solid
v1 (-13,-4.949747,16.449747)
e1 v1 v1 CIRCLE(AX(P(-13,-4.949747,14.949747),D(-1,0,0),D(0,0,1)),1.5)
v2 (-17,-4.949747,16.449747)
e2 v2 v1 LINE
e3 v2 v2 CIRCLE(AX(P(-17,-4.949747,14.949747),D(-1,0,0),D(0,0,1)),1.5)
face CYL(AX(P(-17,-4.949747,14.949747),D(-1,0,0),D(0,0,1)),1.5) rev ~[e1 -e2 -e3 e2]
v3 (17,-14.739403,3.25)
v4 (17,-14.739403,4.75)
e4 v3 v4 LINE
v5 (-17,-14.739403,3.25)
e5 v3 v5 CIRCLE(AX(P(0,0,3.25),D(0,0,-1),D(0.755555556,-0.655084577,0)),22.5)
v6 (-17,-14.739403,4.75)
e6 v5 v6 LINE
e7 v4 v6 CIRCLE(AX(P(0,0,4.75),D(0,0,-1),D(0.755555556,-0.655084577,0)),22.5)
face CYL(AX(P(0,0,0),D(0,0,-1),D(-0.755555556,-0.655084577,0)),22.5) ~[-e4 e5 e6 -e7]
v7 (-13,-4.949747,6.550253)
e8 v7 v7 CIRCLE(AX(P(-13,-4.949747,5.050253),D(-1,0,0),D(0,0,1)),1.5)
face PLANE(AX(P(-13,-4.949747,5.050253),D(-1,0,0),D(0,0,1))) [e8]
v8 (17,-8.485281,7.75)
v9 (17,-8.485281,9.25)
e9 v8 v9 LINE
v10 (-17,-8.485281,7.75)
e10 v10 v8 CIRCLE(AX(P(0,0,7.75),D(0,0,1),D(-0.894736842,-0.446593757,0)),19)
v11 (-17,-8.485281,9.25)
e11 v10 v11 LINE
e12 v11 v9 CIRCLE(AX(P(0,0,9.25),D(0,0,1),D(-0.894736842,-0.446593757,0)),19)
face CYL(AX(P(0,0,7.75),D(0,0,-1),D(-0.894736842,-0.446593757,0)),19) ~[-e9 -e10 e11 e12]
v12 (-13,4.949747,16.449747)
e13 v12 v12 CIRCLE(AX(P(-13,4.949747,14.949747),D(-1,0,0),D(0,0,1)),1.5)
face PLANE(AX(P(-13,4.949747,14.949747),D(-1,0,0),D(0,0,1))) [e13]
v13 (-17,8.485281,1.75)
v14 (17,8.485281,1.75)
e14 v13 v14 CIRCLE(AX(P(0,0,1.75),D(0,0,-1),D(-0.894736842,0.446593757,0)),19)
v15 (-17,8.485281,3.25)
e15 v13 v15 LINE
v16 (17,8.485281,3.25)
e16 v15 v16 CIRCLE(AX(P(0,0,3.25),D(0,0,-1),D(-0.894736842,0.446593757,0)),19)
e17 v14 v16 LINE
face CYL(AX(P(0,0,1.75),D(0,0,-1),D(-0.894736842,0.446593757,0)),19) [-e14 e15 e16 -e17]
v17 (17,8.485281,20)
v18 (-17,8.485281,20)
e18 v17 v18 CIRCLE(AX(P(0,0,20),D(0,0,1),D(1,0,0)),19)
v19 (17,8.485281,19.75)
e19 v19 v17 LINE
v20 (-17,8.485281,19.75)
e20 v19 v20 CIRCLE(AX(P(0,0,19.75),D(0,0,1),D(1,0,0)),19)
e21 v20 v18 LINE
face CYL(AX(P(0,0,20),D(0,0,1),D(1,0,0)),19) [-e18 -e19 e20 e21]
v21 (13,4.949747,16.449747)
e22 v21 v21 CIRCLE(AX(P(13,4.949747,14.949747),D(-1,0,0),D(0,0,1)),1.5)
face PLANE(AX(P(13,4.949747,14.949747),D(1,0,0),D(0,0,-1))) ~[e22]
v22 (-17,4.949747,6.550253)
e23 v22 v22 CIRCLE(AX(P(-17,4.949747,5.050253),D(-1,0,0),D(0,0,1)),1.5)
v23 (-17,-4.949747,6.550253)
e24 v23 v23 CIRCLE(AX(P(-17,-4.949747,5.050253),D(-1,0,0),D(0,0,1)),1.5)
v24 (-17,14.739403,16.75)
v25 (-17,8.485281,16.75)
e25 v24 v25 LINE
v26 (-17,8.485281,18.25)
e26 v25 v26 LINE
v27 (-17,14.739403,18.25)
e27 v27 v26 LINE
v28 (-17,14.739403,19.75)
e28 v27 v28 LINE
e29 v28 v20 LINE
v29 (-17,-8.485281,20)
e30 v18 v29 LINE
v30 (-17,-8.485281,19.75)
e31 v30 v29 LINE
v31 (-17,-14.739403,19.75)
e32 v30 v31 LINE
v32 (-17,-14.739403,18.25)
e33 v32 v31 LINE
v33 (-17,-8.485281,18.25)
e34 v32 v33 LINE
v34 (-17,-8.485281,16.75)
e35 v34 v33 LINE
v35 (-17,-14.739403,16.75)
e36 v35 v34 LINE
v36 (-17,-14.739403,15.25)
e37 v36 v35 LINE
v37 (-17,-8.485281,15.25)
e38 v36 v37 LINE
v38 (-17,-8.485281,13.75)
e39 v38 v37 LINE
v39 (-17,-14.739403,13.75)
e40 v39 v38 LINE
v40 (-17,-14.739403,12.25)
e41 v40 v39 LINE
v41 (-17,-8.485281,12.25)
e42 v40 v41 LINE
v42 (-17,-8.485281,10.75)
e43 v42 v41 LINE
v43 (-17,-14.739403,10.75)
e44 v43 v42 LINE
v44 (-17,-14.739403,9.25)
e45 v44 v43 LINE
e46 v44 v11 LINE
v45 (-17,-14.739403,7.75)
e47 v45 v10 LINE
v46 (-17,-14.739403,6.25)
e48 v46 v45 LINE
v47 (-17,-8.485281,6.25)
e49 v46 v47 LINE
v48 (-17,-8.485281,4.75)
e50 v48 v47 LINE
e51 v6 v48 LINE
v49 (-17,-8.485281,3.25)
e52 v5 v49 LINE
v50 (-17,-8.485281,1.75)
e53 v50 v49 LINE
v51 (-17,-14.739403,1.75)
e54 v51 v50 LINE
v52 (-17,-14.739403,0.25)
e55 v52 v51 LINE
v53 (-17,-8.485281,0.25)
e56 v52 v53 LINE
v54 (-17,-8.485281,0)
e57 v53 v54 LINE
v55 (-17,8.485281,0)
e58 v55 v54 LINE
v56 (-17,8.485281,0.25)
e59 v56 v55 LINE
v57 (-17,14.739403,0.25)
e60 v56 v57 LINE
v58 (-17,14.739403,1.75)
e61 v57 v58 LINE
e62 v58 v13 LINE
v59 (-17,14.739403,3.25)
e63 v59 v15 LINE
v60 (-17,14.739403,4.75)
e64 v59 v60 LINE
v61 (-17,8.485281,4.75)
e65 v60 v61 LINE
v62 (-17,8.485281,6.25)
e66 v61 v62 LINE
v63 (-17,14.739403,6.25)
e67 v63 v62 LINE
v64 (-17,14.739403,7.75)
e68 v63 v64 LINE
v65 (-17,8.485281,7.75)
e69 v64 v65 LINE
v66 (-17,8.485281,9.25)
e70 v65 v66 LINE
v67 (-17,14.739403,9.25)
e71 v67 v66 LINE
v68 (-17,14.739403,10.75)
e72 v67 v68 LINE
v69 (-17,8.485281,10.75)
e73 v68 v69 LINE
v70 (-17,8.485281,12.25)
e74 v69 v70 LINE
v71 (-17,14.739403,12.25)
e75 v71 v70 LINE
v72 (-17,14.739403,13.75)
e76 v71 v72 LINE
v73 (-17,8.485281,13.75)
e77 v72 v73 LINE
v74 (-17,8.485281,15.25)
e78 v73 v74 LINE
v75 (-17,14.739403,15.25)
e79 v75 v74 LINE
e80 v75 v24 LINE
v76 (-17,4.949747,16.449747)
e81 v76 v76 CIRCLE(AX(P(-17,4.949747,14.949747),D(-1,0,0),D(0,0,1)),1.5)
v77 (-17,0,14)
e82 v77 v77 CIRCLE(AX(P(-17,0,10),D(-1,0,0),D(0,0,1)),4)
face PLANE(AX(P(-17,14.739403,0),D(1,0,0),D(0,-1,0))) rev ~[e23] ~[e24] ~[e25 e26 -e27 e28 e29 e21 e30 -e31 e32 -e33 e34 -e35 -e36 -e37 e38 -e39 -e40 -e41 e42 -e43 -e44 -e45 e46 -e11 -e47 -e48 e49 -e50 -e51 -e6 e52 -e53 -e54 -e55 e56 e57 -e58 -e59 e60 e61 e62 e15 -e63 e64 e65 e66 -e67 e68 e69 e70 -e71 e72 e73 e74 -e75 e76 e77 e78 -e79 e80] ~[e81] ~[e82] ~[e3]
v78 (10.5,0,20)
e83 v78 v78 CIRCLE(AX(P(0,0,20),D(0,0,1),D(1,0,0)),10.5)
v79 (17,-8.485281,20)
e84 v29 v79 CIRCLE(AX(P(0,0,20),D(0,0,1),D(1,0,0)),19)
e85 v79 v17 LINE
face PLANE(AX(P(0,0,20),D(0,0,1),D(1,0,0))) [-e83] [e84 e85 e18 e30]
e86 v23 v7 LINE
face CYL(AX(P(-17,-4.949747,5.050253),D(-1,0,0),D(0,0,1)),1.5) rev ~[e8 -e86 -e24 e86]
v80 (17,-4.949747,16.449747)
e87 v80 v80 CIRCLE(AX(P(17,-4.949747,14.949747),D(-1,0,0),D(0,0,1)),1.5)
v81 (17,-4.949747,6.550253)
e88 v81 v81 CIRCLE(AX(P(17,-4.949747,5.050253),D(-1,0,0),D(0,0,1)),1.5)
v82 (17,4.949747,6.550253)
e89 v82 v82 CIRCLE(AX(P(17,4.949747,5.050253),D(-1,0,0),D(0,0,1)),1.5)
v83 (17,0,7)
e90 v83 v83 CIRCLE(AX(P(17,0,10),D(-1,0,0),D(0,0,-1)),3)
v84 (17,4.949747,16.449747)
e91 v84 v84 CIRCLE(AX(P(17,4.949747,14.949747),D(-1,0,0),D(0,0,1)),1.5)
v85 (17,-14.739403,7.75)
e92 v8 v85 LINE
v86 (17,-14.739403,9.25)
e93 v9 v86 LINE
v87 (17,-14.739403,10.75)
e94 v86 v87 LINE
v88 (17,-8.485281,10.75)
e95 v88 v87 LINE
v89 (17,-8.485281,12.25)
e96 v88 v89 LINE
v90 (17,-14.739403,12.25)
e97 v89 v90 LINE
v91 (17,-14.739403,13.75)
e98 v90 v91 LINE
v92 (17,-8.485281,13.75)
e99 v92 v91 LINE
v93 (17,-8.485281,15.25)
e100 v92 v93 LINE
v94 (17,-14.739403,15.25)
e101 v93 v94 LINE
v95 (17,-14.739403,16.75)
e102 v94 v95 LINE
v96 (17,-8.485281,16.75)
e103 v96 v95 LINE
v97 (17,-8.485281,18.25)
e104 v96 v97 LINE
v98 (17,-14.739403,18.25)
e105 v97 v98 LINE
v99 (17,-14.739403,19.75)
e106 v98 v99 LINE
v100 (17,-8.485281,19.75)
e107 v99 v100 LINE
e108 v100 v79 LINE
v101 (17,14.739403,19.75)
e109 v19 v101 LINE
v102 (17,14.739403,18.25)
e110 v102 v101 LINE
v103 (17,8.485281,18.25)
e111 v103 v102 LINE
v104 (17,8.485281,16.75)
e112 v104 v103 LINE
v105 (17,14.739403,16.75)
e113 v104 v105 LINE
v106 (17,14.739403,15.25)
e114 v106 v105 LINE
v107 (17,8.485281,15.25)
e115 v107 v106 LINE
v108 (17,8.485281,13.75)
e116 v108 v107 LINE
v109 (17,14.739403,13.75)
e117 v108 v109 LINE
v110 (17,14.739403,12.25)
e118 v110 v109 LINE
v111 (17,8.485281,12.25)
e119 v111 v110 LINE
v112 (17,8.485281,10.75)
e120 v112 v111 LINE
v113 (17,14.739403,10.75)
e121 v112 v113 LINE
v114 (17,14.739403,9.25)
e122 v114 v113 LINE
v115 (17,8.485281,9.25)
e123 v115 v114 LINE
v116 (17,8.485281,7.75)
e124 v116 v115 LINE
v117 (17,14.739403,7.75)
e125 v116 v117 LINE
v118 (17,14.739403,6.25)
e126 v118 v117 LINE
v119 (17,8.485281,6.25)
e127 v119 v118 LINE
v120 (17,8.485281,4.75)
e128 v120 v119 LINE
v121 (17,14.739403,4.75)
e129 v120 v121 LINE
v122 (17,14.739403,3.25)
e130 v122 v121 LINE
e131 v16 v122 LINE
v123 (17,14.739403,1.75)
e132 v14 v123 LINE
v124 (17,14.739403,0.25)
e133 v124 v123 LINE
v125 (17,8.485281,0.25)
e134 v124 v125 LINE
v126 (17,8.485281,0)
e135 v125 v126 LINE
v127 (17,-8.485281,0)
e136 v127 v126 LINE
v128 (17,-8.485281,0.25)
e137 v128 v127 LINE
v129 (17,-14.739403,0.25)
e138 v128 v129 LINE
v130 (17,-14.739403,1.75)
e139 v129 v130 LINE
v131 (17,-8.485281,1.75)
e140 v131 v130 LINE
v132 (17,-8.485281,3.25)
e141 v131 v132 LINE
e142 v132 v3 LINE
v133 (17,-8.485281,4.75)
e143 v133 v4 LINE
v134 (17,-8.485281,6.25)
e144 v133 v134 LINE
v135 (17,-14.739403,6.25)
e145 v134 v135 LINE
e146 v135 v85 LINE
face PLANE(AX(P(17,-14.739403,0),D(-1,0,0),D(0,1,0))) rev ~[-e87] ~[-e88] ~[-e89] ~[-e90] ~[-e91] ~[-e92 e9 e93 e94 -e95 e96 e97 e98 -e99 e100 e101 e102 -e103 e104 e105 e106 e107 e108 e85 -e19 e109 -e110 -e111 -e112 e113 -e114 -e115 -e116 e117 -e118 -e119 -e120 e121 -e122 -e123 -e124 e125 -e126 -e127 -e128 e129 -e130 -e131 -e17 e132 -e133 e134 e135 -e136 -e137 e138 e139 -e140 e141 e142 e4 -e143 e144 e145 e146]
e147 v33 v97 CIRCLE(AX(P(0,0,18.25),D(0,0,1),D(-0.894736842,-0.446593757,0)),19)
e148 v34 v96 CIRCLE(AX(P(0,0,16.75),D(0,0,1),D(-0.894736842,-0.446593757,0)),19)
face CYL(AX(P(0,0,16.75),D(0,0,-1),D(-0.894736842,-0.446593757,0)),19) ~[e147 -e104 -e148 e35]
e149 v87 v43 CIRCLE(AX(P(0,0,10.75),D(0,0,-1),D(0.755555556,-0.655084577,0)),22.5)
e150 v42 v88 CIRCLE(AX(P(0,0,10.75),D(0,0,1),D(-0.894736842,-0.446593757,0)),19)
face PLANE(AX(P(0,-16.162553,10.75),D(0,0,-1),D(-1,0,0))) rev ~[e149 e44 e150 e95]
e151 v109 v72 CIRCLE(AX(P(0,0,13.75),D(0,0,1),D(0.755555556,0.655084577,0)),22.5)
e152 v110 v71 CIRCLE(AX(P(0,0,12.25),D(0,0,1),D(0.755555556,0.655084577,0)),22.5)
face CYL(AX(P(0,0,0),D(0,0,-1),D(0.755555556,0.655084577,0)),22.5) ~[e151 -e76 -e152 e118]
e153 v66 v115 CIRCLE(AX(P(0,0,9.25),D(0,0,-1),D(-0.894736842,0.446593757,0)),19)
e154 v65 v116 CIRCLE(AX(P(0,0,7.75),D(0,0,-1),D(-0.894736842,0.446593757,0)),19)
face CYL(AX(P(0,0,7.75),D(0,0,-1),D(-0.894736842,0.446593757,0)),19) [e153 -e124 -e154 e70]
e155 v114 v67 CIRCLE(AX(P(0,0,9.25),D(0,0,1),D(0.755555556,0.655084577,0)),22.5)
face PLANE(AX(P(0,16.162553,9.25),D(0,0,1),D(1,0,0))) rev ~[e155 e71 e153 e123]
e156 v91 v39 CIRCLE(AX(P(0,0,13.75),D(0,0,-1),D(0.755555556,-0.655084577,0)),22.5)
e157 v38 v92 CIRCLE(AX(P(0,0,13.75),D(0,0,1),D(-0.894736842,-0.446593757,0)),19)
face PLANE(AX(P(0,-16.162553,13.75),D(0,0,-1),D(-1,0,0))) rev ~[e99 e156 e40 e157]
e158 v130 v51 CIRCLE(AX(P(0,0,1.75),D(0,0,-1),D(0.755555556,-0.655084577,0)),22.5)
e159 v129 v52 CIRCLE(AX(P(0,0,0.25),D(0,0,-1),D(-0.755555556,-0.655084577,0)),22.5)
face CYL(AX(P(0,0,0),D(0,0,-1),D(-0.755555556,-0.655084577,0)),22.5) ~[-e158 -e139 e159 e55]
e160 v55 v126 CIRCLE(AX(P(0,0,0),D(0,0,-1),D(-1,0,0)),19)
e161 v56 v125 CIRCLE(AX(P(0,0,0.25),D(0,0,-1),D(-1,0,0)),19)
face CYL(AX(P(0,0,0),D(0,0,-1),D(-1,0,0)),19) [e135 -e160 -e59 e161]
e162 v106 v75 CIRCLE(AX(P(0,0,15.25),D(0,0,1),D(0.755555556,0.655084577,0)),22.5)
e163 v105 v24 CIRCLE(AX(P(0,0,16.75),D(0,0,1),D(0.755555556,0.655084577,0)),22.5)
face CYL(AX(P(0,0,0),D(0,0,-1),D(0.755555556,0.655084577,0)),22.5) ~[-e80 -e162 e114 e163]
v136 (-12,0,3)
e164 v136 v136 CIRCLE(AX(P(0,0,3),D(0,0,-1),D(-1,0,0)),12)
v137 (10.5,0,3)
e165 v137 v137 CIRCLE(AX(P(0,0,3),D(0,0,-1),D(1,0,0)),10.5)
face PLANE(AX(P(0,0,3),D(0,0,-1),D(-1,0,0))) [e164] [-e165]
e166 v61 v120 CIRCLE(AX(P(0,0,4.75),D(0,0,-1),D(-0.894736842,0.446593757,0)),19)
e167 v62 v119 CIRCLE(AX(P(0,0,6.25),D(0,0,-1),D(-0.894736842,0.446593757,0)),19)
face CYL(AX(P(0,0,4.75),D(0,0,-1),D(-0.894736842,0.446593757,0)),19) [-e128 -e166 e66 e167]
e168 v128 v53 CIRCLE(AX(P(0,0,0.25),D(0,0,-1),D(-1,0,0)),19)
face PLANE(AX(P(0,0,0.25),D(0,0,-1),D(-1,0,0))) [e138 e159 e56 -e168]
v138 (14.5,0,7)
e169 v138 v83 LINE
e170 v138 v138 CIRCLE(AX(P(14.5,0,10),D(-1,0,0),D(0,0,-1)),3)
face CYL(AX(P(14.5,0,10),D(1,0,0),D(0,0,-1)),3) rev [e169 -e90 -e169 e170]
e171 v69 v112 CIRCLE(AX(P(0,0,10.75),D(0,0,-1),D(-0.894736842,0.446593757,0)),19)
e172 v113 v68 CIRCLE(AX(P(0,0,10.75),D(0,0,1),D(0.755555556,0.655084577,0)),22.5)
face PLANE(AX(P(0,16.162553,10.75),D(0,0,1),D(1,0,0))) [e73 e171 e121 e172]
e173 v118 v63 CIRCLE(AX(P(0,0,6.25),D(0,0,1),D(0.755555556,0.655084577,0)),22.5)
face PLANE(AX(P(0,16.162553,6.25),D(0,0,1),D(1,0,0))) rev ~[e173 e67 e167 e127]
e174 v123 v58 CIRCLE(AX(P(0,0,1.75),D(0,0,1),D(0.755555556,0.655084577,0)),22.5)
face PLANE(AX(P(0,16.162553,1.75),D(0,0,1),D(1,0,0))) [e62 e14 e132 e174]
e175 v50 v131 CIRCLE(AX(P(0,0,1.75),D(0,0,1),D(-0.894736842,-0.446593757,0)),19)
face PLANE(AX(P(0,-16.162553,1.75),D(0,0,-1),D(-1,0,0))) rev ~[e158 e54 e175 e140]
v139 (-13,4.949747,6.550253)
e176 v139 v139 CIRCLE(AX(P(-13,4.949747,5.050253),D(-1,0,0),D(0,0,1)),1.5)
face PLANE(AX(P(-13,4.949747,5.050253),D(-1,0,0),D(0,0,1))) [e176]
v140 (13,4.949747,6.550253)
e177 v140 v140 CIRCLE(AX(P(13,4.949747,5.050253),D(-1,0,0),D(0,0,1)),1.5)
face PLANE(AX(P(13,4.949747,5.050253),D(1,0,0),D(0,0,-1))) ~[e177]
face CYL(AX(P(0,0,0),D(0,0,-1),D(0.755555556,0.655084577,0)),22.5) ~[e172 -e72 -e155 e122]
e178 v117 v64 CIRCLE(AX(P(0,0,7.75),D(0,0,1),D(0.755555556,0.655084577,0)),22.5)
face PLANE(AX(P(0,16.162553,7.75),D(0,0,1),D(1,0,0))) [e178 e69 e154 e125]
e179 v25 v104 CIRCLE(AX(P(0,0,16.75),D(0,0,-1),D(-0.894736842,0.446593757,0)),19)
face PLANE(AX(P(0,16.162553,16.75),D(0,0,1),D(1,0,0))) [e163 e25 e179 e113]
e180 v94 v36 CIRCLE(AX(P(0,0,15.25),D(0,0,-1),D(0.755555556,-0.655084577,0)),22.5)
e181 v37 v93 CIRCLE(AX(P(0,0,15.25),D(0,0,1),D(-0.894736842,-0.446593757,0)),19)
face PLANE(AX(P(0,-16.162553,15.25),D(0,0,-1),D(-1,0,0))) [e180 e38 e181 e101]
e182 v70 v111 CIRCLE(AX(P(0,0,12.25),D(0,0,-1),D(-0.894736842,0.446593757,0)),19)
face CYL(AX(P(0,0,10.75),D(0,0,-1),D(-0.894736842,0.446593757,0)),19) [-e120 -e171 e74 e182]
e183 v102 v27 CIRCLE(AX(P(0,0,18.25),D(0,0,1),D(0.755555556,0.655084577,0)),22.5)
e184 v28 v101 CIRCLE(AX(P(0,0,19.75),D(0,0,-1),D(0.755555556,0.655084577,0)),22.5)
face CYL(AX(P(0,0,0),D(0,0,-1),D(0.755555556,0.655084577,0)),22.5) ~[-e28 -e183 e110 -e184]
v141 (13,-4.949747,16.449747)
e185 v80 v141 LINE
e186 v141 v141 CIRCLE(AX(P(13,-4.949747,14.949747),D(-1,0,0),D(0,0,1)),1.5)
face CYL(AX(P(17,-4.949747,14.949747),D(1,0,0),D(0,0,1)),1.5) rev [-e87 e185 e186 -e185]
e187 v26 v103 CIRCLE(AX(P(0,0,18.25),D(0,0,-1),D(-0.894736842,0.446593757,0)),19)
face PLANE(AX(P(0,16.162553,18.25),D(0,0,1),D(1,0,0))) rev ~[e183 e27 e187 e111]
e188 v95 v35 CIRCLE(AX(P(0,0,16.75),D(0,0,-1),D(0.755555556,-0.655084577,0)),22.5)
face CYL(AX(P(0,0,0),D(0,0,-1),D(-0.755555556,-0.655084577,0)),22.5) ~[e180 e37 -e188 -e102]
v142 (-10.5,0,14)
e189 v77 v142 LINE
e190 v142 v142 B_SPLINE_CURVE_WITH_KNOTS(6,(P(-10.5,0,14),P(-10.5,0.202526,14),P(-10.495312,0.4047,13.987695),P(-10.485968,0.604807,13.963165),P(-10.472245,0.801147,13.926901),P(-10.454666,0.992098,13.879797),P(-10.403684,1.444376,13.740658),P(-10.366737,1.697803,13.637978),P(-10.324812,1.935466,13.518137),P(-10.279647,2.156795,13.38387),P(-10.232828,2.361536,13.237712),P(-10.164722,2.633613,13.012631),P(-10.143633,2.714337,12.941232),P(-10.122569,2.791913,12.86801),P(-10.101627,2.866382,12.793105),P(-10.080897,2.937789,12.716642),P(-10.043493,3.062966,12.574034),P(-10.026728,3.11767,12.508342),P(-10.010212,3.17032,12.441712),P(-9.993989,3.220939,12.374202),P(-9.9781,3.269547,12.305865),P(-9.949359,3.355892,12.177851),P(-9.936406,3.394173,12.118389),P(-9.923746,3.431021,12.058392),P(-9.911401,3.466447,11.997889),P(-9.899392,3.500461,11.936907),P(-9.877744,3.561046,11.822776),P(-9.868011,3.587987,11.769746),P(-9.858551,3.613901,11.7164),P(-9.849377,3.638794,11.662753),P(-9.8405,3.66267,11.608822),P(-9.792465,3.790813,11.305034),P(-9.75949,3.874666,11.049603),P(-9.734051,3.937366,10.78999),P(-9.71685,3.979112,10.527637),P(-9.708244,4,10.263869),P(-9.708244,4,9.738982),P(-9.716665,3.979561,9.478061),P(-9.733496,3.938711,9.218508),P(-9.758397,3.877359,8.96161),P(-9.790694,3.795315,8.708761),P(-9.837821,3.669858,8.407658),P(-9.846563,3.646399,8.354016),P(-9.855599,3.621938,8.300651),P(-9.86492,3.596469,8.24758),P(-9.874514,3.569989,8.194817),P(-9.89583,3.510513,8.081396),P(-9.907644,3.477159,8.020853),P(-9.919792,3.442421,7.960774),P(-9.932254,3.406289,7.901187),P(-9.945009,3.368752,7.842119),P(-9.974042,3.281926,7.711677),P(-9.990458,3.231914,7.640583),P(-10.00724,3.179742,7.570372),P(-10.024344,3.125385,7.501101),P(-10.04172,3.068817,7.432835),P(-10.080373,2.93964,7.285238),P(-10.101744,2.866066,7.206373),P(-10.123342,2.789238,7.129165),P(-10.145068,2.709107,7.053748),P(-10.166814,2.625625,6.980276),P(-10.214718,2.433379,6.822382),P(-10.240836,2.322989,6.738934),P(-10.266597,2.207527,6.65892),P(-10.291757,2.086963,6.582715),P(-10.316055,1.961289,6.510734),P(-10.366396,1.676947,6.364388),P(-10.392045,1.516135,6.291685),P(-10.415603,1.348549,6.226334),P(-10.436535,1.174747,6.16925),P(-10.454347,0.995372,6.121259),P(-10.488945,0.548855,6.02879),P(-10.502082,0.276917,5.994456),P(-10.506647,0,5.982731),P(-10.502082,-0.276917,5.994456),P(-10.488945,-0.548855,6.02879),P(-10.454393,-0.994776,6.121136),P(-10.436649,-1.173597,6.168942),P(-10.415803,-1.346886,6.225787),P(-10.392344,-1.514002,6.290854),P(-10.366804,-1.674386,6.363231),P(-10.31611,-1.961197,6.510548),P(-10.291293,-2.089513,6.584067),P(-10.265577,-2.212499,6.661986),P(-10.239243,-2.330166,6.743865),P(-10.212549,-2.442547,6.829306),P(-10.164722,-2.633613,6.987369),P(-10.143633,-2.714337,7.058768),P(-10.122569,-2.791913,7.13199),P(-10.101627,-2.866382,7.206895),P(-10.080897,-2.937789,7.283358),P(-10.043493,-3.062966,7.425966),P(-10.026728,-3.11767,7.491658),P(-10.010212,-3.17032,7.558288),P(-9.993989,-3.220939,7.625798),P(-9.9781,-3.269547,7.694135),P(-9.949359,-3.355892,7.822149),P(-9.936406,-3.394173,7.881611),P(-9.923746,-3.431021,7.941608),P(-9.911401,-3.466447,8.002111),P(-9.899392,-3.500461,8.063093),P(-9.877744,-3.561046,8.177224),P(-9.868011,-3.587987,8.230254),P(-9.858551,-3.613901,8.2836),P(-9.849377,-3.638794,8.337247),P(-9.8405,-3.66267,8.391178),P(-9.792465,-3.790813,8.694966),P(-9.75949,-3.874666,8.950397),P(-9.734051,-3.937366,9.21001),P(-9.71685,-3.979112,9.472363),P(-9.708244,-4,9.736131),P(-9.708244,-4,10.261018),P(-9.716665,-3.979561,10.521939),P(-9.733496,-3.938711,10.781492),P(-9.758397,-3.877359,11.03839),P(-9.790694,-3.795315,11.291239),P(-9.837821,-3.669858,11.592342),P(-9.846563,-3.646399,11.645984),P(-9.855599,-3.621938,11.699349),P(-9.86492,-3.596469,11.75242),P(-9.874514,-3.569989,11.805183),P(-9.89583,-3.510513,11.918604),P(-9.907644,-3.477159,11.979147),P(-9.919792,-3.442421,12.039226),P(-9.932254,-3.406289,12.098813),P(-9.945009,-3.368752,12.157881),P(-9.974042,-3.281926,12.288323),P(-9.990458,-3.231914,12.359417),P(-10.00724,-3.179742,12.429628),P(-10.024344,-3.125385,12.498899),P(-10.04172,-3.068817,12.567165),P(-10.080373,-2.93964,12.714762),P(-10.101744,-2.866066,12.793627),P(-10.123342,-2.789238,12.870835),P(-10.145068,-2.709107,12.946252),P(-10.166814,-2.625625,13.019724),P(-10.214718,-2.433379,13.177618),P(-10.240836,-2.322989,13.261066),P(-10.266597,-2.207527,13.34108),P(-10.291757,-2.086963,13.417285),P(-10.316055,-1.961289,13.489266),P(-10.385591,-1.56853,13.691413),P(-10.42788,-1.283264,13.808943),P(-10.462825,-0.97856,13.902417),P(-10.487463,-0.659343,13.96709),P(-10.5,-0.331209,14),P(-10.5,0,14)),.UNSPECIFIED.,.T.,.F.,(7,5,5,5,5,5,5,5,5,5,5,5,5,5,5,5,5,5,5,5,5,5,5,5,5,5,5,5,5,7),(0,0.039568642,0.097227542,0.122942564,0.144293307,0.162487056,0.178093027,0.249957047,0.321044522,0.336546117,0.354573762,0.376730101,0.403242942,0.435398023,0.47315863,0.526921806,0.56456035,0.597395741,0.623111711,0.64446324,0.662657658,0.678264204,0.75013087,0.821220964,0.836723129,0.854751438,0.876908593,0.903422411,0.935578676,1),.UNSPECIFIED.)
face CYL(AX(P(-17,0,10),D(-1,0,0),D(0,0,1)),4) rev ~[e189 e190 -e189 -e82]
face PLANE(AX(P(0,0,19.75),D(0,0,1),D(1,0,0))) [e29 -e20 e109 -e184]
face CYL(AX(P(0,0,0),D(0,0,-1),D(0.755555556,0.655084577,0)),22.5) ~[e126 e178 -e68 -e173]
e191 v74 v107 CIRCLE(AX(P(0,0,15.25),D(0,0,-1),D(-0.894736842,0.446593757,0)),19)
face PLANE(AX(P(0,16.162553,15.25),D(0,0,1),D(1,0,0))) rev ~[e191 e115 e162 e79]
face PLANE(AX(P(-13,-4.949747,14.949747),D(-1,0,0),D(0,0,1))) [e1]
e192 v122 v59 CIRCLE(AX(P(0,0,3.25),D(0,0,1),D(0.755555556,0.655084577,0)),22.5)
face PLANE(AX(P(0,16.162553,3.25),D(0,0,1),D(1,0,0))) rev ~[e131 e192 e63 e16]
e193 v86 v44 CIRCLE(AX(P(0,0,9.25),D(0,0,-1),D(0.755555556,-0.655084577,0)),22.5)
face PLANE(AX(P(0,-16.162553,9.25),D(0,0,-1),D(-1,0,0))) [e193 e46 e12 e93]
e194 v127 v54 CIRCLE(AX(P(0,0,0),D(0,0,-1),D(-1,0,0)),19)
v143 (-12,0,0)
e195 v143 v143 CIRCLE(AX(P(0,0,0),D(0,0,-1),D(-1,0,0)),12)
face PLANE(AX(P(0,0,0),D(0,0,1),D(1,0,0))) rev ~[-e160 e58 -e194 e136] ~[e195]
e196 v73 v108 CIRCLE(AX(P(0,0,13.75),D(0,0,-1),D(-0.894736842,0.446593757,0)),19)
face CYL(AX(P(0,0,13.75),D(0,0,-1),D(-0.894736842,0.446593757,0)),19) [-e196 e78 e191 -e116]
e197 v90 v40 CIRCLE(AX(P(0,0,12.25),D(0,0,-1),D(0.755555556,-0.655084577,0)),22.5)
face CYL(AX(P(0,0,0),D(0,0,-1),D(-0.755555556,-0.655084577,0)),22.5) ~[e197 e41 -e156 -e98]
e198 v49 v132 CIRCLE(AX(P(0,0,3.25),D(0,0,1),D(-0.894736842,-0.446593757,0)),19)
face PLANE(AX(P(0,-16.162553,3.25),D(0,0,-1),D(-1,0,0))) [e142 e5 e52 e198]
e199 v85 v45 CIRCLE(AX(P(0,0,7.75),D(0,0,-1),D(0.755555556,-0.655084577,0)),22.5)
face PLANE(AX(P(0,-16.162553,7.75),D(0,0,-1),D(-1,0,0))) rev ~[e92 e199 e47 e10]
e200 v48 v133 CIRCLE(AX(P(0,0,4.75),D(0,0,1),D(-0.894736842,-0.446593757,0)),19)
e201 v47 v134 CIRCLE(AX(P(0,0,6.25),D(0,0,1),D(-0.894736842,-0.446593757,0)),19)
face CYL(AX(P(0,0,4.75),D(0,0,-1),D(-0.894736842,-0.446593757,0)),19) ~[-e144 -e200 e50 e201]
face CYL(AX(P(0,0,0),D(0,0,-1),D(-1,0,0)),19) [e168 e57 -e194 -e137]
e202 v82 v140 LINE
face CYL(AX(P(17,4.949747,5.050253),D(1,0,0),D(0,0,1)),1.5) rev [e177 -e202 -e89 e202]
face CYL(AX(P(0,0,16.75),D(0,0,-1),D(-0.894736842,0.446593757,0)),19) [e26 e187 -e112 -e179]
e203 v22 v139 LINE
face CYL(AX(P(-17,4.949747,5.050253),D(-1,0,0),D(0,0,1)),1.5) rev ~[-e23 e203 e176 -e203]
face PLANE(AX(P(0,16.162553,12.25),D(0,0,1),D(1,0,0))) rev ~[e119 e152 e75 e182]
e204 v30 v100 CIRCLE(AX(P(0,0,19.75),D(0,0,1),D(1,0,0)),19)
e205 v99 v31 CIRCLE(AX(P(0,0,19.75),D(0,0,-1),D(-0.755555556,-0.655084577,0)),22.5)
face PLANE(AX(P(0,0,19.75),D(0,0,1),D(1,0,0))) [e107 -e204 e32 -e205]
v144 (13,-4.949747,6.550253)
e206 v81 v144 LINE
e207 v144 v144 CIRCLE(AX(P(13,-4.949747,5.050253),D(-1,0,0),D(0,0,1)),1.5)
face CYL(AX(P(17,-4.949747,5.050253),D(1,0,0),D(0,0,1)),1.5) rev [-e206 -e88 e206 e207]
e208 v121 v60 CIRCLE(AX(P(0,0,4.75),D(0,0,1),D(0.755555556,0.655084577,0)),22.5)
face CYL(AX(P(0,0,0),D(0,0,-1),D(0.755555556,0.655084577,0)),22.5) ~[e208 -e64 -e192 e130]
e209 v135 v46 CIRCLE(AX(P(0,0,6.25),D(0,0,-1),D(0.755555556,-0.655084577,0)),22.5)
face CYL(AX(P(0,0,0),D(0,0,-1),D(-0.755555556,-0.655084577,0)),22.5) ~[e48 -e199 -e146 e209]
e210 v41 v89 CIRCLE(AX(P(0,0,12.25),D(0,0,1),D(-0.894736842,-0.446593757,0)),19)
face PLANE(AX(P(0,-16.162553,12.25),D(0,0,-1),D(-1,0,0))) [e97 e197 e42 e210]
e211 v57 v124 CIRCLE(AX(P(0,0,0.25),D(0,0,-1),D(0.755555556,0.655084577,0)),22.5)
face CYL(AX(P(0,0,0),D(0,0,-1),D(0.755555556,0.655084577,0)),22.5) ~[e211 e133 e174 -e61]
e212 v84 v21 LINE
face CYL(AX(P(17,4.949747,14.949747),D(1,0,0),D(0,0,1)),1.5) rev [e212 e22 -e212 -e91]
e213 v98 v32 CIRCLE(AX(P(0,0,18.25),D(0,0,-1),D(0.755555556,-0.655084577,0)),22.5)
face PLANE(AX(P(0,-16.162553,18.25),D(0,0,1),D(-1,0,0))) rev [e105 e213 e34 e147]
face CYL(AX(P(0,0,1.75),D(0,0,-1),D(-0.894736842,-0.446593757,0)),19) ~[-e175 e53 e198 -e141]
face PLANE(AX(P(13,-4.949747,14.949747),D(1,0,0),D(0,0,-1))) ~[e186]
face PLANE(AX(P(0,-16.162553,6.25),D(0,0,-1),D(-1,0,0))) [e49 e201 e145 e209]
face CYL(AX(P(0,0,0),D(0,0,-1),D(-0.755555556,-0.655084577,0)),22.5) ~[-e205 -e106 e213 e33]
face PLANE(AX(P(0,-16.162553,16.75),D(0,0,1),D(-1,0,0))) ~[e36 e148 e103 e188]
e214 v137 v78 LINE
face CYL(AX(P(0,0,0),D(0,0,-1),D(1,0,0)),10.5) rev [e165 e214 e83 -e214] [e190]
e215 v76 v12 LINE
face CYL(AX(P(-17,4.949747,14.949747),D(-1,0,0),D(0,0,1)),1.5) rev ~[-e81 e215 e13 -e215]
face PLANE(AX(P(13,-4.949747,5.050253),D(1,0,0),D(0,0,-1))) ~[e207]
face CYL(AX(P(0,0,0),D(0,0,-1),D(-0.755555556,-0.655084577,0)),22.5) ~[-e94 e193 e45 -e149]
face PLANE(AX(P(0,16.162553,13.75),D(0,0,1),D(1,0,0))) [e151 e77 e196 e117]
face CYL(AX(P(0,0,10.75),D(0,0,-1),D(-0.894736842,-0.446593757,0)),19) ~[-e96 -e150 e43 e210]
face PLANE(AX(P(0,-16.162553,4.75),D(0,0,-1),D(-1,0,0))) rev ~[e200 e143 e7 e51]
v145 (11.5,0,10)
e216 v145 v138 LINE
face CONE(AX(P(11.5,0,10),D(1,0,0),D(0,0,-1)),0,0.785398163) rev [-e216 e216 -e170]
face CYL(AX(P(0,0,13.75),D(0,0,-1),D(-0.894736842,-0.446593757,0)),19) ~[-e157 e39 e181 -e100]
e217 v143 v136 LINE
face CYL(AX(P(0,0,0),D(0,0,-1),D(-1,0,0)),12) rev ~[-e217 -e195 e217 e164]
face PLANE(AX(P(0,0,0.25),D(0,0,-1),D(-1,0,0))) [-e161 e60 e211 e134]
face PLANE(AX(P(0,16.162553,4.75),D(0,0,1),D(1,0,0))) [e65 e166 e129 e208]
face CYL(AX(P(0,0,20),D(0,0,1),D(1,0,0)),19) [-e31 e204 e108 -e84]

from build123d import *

# Parameters (mm, degrees)
SKETCH2_R            = 10.5
BOSS_EXTRUDE1_DEPTH  = 20
SKETCH3_R            = 12
CUT_EXTRUDE1_DEPTH   = 3
SKETCH4_OUTSIDE_W    = 47.968
SKETCH4_OUTSIDE_H    = 58.968
SKETCH4_OUTSIDE_R    = 19
CUT_EXTRUDE2_DEPTH   = 0.25
SKETCH5_OUTSIDE_W    = 47.968
SKETCH5_OUTSIDE_H    = 58.968
SKETCH5_OUTSIDE_R    = 19
CUT_EXTRUDE3_DEPTH   = 0.25
CUT_EXTRUDE4_START   = -1.5
CUT_EXTRUDE4_DEPTH   = 1.5
LPATTERN1_COUNT      = 6
LPATTERN1_PITCH      = 3
MIRROR3_START        = -1.5
MIRROR3_COPY_1_DEPTH = 1.5
MIRROR3_COPY_2_DEPTH = 1.5
MIRROR3_COPY_3_DEPTH = 1.5
MIRROR3_COPY_4_DEPTH = 1.5
MIRROR3_COPY_5_DEPTH = 1.5
SKETCH10_R           = 4
CUT_EXTRUDE5_DEPTH   = 9.5
SKETCH11_R           = 1.5
CUT_EXTRUDE6_DEPTH   = 4


with BuildPart() as part:
    # Sketch2 → Boss-Extrude1 (new body)
    with BuildSketch(Plane.XY):
        with BuildLine():
            Line((-17, 14.739402973), (-17, -14.739402973))
            ThreePointArc((-17, -14.739402973), (0, -22.5), (17, -14.739402973))
            Line((17, -14.739402973), (17, 14.739402973))
            ThreePointArc((17, 14.739402973), (0, 22.5), (-17, 14.739402973))
        make_face()
        Circle(SKETCH2_R, mode=Mode.SUBTRACT)
    extrude(amount=BOSS_EXTRUDE1_DEPTH)

    # Sketch3 → Cut-Extrude1 (cut)
    with BuildSketch(Plane(origin=(0, 0, 0), x_dir=(-1, 0, 0), z_dir=(0, 0, -1))):
        Circle(SKETCH3_R)
    extrude(amount=-CUT_EXTRUDE1_DEPTH, mode=Mode.SUBTRACT)

    # Sketch4 outside → Cut-Extrude2 (cut)
    with BuildSketch(Plane.XY.offset(20)):
        Rectangle(SKETCH4_OUTSIDE_W, SKETCH4_OUTSIDE_H)
        Circle(SKETCH4_OUTSIDE_R, mode=Mode.SUBTRACT)
    extrude(amount=-CUT_EXTRUDE2_DEPTH, mode=Mode.SUBTRACT)

    # Sketch5 outside → Cut-Extrude3 (cut)
    with BuildSketch(Plane(origin=(0, 0, 0), x_dir=(-1, 0, 0), z_dir=(0, 0, -1))):
        Rectangle(SKETCH5_OUTSIDE_W, SKETCH5_OUTSIDE_H)
        Circle(SKETCH5_OUTSIDE_R, mode=Mode.SUBTRACT)
    extrude(amount=-CUT_EXTRUDE3_DEPTH, mode=Mode.SUBTRACT)

    # Sketch8 → Cut-Extrude4 (cut)
    with BuildSketch(Plane.XY.offset(18.25).offset(CUT_EXTRUDE4_START)):
        with BuildLine():
            Line((17, 8.485281374), (17, 14.739402973))
            ThreePointArc((17, 14.739402973), (0, 22.5), (-17, 14.739402973))
            Line((-17, 14.739402973), (-17, 8.485281374))
            ThreePointArc((-17, 8.485281374), (0, 19), (17, 8.485281374))
        make_face()
    cut_extrude4 = extrude(amount=CUT_EXTRUDE4_DEPTH, mode=Mode.SUBTRACT)

    # LPattern1: Cut-Extrude4 ×6
    with Locations(*[(0, 0, -i * LPATTERN1_PITCH) for i in range(1, LPATTERN1_COUNT)]):
        add(cut_extrude4, mode=Mode.SUBTRACT)

    # Mirror3: Cut-Extrude4 across plane
    add(cut_extrude4.mirror(Plane.ZX), mode=Mode.SUBTRACT)

    # Mirror3 copy 1 sketch → Mirror3 copy 1 (cut)
    with BuildSketch(Plane.XY.offset(15.25).offset(MIRROR3_START)):
        with BuildLine():
            Line((17, -8.485281374), (17, -14.739402973))
            ThreePointArc((17, -14.739402973), (0, -22.5), (-17, -14.739402973))
            Line((-17, -14.739402973), (-17, -8.485281374))
            ThreePointArc((-17, -8.485281374), (0, -19), (17, -8.485281374))
        make_face()
    extrude(amount=MIRROR3_COPY_1_DEPTH, mode=Mode.SUBTRACT)

    # Mirror3 copy 2 sketch → Mirror3 copy 2 (cut)
    with BuildSketch(Plane.XY.offset(12.25).offset(MIRROR3_START)):
        with BuildLine():
            Line((17, -8.485281374), (17, -14.739402973))
            ThreePointArc((17, -14.739402973), (0, -22.5), (-17, -14.739402973))
            Line((-17, -14.739402973), (-17, -8.485281374))
            ThreePointArc((-17, -8.485281374), (0, -19), (17, -8.485281374))
        make_face()
    extrude(amount=MIRROR3_COPY_2_DEPTH, mode=Mode.SUBTRACT)

    # Mirror3 copy 3 sketch → Mirror3 copy 3 (cut)
    with BuildSketch(Plane.XY.offset(9.25).offset(MIRROR3_START)):
        with BuildLine():
            Line((17, -8.485281374), (17, -14.739402973))
            ThreePointArc((17, -14.739402973), (0, -22.5), (-17, -14.739402973))
            Line((-17, -14.739402973), (-17, -8.485281374))
            ThreePointArc((-17, -8.485281374), (0, -19), (17, -8.485281374))
        make_face()
    extrude(amount=MIRROR3_COPY_3_DEPTH, mode=Mode.SUBTRACT)

    # Mirror3 copy 4 sketch → Mirror3 copy 4 (cut)
    with BuildSketch(Plane.XY.offset(6.25).offset(MIRROR3_START)):
        with BuildLine():
            Line((17, -8.485281374), (17, -14.739402973))
            ThreePointArc((17, -14.739402973), (0, -22.5), (-17, -14.739402973))
            Line((-17, -14.739402973), (-17, -8.485281374))
            ThreePointArc((-17, -8.485281374), (0, -19), (17, -8.485281374))
        make_face()
    extrude(amount=MIRROR3_COPY_4_DEPTH, mode=Mode.SUBTRACT)

    # Mirror3 copy 5 sketch → Mirror3 copy 5 (cut)
    with BuildSketch(Plane.XY.offset(3.25).offset(MIRROR3_START)):
        with BuildLine():
            Line((17, -8.485281374), (17, -14.739402973))
            ThreePointArc((17, -14.739402973), (0, -22.5), (-17, -14.739402973))
            Line((-17, -14.739402973), (-17, -8.485281374))
            ThreePointArc((-17, -8.485281374), (0, -19), (17, -8.485281374))
        make_face()
    extrude(amount=MIRROR3_COPY_5_DEPTH, mode=Mode.SUBTRACT)

    # Sketch10 → Cut-Extrude5 (cut)
    with BuildSketch(Plane.ZY.offset(17)):
        with Locations((10, 0)):
            Circle(SKETCH10_R)
    extrude(amount=-CUT_EXTRUDE5_DEPTH, mode=Mode.SUBTRACT)

    # Sketch11 → Cut-Extrude6 (cut)
    with BuildSketch(Plane.ZY.offset(17)):
        with Locations((5.050252532, 4.949747468)):
            Circle(SKETCH11_R)
        with Locations((5.050252532, -4.949747468)):
            Circle(SKETCH11_R)
        with Locations((14.949747468, -4.949747468)):
            Circle(SKETCH11_R)
        with Locations((14.949747468, 4.949747468)):
            Circle(SKETCH11_R)
    cut_extrude6 = extrude(amount=-CUT_EXTRUDE6_DEPTH, mode=Mode.SUBTRACT)

    # Sketch14 → Cut-Revolve1 (revolve, cut)
    with BuildSketch(Plane(origin=(0, 0, 10), x_dir=(-1, 0, 0), z_dir=(0, 0, -1)), mode=Mode.PRIVATE) as cut_revolve1_sk:
        Polygon((-17, 0), (-11.5, 0), (-14.5, -3), (-17, -3), align=None)
    revolve(cut_revolve1_sk.sketch.rotate(Axis((17, 0, 10), (-1, 0, 0)), 270), axis=Axis((17, 0, 10), (-1, 0, 0)), mode=Mode.SUBTRACT)

    # Mirror4: Cut-Extrude6 across plane
    add(cut_extrude6.mirror(Plane(origin=(0, 0, 0), x_dir=(0, 0, 1), z_dir=(1, 0, 0))), mode=Mode.SUBTRACT)


solid = part.part
